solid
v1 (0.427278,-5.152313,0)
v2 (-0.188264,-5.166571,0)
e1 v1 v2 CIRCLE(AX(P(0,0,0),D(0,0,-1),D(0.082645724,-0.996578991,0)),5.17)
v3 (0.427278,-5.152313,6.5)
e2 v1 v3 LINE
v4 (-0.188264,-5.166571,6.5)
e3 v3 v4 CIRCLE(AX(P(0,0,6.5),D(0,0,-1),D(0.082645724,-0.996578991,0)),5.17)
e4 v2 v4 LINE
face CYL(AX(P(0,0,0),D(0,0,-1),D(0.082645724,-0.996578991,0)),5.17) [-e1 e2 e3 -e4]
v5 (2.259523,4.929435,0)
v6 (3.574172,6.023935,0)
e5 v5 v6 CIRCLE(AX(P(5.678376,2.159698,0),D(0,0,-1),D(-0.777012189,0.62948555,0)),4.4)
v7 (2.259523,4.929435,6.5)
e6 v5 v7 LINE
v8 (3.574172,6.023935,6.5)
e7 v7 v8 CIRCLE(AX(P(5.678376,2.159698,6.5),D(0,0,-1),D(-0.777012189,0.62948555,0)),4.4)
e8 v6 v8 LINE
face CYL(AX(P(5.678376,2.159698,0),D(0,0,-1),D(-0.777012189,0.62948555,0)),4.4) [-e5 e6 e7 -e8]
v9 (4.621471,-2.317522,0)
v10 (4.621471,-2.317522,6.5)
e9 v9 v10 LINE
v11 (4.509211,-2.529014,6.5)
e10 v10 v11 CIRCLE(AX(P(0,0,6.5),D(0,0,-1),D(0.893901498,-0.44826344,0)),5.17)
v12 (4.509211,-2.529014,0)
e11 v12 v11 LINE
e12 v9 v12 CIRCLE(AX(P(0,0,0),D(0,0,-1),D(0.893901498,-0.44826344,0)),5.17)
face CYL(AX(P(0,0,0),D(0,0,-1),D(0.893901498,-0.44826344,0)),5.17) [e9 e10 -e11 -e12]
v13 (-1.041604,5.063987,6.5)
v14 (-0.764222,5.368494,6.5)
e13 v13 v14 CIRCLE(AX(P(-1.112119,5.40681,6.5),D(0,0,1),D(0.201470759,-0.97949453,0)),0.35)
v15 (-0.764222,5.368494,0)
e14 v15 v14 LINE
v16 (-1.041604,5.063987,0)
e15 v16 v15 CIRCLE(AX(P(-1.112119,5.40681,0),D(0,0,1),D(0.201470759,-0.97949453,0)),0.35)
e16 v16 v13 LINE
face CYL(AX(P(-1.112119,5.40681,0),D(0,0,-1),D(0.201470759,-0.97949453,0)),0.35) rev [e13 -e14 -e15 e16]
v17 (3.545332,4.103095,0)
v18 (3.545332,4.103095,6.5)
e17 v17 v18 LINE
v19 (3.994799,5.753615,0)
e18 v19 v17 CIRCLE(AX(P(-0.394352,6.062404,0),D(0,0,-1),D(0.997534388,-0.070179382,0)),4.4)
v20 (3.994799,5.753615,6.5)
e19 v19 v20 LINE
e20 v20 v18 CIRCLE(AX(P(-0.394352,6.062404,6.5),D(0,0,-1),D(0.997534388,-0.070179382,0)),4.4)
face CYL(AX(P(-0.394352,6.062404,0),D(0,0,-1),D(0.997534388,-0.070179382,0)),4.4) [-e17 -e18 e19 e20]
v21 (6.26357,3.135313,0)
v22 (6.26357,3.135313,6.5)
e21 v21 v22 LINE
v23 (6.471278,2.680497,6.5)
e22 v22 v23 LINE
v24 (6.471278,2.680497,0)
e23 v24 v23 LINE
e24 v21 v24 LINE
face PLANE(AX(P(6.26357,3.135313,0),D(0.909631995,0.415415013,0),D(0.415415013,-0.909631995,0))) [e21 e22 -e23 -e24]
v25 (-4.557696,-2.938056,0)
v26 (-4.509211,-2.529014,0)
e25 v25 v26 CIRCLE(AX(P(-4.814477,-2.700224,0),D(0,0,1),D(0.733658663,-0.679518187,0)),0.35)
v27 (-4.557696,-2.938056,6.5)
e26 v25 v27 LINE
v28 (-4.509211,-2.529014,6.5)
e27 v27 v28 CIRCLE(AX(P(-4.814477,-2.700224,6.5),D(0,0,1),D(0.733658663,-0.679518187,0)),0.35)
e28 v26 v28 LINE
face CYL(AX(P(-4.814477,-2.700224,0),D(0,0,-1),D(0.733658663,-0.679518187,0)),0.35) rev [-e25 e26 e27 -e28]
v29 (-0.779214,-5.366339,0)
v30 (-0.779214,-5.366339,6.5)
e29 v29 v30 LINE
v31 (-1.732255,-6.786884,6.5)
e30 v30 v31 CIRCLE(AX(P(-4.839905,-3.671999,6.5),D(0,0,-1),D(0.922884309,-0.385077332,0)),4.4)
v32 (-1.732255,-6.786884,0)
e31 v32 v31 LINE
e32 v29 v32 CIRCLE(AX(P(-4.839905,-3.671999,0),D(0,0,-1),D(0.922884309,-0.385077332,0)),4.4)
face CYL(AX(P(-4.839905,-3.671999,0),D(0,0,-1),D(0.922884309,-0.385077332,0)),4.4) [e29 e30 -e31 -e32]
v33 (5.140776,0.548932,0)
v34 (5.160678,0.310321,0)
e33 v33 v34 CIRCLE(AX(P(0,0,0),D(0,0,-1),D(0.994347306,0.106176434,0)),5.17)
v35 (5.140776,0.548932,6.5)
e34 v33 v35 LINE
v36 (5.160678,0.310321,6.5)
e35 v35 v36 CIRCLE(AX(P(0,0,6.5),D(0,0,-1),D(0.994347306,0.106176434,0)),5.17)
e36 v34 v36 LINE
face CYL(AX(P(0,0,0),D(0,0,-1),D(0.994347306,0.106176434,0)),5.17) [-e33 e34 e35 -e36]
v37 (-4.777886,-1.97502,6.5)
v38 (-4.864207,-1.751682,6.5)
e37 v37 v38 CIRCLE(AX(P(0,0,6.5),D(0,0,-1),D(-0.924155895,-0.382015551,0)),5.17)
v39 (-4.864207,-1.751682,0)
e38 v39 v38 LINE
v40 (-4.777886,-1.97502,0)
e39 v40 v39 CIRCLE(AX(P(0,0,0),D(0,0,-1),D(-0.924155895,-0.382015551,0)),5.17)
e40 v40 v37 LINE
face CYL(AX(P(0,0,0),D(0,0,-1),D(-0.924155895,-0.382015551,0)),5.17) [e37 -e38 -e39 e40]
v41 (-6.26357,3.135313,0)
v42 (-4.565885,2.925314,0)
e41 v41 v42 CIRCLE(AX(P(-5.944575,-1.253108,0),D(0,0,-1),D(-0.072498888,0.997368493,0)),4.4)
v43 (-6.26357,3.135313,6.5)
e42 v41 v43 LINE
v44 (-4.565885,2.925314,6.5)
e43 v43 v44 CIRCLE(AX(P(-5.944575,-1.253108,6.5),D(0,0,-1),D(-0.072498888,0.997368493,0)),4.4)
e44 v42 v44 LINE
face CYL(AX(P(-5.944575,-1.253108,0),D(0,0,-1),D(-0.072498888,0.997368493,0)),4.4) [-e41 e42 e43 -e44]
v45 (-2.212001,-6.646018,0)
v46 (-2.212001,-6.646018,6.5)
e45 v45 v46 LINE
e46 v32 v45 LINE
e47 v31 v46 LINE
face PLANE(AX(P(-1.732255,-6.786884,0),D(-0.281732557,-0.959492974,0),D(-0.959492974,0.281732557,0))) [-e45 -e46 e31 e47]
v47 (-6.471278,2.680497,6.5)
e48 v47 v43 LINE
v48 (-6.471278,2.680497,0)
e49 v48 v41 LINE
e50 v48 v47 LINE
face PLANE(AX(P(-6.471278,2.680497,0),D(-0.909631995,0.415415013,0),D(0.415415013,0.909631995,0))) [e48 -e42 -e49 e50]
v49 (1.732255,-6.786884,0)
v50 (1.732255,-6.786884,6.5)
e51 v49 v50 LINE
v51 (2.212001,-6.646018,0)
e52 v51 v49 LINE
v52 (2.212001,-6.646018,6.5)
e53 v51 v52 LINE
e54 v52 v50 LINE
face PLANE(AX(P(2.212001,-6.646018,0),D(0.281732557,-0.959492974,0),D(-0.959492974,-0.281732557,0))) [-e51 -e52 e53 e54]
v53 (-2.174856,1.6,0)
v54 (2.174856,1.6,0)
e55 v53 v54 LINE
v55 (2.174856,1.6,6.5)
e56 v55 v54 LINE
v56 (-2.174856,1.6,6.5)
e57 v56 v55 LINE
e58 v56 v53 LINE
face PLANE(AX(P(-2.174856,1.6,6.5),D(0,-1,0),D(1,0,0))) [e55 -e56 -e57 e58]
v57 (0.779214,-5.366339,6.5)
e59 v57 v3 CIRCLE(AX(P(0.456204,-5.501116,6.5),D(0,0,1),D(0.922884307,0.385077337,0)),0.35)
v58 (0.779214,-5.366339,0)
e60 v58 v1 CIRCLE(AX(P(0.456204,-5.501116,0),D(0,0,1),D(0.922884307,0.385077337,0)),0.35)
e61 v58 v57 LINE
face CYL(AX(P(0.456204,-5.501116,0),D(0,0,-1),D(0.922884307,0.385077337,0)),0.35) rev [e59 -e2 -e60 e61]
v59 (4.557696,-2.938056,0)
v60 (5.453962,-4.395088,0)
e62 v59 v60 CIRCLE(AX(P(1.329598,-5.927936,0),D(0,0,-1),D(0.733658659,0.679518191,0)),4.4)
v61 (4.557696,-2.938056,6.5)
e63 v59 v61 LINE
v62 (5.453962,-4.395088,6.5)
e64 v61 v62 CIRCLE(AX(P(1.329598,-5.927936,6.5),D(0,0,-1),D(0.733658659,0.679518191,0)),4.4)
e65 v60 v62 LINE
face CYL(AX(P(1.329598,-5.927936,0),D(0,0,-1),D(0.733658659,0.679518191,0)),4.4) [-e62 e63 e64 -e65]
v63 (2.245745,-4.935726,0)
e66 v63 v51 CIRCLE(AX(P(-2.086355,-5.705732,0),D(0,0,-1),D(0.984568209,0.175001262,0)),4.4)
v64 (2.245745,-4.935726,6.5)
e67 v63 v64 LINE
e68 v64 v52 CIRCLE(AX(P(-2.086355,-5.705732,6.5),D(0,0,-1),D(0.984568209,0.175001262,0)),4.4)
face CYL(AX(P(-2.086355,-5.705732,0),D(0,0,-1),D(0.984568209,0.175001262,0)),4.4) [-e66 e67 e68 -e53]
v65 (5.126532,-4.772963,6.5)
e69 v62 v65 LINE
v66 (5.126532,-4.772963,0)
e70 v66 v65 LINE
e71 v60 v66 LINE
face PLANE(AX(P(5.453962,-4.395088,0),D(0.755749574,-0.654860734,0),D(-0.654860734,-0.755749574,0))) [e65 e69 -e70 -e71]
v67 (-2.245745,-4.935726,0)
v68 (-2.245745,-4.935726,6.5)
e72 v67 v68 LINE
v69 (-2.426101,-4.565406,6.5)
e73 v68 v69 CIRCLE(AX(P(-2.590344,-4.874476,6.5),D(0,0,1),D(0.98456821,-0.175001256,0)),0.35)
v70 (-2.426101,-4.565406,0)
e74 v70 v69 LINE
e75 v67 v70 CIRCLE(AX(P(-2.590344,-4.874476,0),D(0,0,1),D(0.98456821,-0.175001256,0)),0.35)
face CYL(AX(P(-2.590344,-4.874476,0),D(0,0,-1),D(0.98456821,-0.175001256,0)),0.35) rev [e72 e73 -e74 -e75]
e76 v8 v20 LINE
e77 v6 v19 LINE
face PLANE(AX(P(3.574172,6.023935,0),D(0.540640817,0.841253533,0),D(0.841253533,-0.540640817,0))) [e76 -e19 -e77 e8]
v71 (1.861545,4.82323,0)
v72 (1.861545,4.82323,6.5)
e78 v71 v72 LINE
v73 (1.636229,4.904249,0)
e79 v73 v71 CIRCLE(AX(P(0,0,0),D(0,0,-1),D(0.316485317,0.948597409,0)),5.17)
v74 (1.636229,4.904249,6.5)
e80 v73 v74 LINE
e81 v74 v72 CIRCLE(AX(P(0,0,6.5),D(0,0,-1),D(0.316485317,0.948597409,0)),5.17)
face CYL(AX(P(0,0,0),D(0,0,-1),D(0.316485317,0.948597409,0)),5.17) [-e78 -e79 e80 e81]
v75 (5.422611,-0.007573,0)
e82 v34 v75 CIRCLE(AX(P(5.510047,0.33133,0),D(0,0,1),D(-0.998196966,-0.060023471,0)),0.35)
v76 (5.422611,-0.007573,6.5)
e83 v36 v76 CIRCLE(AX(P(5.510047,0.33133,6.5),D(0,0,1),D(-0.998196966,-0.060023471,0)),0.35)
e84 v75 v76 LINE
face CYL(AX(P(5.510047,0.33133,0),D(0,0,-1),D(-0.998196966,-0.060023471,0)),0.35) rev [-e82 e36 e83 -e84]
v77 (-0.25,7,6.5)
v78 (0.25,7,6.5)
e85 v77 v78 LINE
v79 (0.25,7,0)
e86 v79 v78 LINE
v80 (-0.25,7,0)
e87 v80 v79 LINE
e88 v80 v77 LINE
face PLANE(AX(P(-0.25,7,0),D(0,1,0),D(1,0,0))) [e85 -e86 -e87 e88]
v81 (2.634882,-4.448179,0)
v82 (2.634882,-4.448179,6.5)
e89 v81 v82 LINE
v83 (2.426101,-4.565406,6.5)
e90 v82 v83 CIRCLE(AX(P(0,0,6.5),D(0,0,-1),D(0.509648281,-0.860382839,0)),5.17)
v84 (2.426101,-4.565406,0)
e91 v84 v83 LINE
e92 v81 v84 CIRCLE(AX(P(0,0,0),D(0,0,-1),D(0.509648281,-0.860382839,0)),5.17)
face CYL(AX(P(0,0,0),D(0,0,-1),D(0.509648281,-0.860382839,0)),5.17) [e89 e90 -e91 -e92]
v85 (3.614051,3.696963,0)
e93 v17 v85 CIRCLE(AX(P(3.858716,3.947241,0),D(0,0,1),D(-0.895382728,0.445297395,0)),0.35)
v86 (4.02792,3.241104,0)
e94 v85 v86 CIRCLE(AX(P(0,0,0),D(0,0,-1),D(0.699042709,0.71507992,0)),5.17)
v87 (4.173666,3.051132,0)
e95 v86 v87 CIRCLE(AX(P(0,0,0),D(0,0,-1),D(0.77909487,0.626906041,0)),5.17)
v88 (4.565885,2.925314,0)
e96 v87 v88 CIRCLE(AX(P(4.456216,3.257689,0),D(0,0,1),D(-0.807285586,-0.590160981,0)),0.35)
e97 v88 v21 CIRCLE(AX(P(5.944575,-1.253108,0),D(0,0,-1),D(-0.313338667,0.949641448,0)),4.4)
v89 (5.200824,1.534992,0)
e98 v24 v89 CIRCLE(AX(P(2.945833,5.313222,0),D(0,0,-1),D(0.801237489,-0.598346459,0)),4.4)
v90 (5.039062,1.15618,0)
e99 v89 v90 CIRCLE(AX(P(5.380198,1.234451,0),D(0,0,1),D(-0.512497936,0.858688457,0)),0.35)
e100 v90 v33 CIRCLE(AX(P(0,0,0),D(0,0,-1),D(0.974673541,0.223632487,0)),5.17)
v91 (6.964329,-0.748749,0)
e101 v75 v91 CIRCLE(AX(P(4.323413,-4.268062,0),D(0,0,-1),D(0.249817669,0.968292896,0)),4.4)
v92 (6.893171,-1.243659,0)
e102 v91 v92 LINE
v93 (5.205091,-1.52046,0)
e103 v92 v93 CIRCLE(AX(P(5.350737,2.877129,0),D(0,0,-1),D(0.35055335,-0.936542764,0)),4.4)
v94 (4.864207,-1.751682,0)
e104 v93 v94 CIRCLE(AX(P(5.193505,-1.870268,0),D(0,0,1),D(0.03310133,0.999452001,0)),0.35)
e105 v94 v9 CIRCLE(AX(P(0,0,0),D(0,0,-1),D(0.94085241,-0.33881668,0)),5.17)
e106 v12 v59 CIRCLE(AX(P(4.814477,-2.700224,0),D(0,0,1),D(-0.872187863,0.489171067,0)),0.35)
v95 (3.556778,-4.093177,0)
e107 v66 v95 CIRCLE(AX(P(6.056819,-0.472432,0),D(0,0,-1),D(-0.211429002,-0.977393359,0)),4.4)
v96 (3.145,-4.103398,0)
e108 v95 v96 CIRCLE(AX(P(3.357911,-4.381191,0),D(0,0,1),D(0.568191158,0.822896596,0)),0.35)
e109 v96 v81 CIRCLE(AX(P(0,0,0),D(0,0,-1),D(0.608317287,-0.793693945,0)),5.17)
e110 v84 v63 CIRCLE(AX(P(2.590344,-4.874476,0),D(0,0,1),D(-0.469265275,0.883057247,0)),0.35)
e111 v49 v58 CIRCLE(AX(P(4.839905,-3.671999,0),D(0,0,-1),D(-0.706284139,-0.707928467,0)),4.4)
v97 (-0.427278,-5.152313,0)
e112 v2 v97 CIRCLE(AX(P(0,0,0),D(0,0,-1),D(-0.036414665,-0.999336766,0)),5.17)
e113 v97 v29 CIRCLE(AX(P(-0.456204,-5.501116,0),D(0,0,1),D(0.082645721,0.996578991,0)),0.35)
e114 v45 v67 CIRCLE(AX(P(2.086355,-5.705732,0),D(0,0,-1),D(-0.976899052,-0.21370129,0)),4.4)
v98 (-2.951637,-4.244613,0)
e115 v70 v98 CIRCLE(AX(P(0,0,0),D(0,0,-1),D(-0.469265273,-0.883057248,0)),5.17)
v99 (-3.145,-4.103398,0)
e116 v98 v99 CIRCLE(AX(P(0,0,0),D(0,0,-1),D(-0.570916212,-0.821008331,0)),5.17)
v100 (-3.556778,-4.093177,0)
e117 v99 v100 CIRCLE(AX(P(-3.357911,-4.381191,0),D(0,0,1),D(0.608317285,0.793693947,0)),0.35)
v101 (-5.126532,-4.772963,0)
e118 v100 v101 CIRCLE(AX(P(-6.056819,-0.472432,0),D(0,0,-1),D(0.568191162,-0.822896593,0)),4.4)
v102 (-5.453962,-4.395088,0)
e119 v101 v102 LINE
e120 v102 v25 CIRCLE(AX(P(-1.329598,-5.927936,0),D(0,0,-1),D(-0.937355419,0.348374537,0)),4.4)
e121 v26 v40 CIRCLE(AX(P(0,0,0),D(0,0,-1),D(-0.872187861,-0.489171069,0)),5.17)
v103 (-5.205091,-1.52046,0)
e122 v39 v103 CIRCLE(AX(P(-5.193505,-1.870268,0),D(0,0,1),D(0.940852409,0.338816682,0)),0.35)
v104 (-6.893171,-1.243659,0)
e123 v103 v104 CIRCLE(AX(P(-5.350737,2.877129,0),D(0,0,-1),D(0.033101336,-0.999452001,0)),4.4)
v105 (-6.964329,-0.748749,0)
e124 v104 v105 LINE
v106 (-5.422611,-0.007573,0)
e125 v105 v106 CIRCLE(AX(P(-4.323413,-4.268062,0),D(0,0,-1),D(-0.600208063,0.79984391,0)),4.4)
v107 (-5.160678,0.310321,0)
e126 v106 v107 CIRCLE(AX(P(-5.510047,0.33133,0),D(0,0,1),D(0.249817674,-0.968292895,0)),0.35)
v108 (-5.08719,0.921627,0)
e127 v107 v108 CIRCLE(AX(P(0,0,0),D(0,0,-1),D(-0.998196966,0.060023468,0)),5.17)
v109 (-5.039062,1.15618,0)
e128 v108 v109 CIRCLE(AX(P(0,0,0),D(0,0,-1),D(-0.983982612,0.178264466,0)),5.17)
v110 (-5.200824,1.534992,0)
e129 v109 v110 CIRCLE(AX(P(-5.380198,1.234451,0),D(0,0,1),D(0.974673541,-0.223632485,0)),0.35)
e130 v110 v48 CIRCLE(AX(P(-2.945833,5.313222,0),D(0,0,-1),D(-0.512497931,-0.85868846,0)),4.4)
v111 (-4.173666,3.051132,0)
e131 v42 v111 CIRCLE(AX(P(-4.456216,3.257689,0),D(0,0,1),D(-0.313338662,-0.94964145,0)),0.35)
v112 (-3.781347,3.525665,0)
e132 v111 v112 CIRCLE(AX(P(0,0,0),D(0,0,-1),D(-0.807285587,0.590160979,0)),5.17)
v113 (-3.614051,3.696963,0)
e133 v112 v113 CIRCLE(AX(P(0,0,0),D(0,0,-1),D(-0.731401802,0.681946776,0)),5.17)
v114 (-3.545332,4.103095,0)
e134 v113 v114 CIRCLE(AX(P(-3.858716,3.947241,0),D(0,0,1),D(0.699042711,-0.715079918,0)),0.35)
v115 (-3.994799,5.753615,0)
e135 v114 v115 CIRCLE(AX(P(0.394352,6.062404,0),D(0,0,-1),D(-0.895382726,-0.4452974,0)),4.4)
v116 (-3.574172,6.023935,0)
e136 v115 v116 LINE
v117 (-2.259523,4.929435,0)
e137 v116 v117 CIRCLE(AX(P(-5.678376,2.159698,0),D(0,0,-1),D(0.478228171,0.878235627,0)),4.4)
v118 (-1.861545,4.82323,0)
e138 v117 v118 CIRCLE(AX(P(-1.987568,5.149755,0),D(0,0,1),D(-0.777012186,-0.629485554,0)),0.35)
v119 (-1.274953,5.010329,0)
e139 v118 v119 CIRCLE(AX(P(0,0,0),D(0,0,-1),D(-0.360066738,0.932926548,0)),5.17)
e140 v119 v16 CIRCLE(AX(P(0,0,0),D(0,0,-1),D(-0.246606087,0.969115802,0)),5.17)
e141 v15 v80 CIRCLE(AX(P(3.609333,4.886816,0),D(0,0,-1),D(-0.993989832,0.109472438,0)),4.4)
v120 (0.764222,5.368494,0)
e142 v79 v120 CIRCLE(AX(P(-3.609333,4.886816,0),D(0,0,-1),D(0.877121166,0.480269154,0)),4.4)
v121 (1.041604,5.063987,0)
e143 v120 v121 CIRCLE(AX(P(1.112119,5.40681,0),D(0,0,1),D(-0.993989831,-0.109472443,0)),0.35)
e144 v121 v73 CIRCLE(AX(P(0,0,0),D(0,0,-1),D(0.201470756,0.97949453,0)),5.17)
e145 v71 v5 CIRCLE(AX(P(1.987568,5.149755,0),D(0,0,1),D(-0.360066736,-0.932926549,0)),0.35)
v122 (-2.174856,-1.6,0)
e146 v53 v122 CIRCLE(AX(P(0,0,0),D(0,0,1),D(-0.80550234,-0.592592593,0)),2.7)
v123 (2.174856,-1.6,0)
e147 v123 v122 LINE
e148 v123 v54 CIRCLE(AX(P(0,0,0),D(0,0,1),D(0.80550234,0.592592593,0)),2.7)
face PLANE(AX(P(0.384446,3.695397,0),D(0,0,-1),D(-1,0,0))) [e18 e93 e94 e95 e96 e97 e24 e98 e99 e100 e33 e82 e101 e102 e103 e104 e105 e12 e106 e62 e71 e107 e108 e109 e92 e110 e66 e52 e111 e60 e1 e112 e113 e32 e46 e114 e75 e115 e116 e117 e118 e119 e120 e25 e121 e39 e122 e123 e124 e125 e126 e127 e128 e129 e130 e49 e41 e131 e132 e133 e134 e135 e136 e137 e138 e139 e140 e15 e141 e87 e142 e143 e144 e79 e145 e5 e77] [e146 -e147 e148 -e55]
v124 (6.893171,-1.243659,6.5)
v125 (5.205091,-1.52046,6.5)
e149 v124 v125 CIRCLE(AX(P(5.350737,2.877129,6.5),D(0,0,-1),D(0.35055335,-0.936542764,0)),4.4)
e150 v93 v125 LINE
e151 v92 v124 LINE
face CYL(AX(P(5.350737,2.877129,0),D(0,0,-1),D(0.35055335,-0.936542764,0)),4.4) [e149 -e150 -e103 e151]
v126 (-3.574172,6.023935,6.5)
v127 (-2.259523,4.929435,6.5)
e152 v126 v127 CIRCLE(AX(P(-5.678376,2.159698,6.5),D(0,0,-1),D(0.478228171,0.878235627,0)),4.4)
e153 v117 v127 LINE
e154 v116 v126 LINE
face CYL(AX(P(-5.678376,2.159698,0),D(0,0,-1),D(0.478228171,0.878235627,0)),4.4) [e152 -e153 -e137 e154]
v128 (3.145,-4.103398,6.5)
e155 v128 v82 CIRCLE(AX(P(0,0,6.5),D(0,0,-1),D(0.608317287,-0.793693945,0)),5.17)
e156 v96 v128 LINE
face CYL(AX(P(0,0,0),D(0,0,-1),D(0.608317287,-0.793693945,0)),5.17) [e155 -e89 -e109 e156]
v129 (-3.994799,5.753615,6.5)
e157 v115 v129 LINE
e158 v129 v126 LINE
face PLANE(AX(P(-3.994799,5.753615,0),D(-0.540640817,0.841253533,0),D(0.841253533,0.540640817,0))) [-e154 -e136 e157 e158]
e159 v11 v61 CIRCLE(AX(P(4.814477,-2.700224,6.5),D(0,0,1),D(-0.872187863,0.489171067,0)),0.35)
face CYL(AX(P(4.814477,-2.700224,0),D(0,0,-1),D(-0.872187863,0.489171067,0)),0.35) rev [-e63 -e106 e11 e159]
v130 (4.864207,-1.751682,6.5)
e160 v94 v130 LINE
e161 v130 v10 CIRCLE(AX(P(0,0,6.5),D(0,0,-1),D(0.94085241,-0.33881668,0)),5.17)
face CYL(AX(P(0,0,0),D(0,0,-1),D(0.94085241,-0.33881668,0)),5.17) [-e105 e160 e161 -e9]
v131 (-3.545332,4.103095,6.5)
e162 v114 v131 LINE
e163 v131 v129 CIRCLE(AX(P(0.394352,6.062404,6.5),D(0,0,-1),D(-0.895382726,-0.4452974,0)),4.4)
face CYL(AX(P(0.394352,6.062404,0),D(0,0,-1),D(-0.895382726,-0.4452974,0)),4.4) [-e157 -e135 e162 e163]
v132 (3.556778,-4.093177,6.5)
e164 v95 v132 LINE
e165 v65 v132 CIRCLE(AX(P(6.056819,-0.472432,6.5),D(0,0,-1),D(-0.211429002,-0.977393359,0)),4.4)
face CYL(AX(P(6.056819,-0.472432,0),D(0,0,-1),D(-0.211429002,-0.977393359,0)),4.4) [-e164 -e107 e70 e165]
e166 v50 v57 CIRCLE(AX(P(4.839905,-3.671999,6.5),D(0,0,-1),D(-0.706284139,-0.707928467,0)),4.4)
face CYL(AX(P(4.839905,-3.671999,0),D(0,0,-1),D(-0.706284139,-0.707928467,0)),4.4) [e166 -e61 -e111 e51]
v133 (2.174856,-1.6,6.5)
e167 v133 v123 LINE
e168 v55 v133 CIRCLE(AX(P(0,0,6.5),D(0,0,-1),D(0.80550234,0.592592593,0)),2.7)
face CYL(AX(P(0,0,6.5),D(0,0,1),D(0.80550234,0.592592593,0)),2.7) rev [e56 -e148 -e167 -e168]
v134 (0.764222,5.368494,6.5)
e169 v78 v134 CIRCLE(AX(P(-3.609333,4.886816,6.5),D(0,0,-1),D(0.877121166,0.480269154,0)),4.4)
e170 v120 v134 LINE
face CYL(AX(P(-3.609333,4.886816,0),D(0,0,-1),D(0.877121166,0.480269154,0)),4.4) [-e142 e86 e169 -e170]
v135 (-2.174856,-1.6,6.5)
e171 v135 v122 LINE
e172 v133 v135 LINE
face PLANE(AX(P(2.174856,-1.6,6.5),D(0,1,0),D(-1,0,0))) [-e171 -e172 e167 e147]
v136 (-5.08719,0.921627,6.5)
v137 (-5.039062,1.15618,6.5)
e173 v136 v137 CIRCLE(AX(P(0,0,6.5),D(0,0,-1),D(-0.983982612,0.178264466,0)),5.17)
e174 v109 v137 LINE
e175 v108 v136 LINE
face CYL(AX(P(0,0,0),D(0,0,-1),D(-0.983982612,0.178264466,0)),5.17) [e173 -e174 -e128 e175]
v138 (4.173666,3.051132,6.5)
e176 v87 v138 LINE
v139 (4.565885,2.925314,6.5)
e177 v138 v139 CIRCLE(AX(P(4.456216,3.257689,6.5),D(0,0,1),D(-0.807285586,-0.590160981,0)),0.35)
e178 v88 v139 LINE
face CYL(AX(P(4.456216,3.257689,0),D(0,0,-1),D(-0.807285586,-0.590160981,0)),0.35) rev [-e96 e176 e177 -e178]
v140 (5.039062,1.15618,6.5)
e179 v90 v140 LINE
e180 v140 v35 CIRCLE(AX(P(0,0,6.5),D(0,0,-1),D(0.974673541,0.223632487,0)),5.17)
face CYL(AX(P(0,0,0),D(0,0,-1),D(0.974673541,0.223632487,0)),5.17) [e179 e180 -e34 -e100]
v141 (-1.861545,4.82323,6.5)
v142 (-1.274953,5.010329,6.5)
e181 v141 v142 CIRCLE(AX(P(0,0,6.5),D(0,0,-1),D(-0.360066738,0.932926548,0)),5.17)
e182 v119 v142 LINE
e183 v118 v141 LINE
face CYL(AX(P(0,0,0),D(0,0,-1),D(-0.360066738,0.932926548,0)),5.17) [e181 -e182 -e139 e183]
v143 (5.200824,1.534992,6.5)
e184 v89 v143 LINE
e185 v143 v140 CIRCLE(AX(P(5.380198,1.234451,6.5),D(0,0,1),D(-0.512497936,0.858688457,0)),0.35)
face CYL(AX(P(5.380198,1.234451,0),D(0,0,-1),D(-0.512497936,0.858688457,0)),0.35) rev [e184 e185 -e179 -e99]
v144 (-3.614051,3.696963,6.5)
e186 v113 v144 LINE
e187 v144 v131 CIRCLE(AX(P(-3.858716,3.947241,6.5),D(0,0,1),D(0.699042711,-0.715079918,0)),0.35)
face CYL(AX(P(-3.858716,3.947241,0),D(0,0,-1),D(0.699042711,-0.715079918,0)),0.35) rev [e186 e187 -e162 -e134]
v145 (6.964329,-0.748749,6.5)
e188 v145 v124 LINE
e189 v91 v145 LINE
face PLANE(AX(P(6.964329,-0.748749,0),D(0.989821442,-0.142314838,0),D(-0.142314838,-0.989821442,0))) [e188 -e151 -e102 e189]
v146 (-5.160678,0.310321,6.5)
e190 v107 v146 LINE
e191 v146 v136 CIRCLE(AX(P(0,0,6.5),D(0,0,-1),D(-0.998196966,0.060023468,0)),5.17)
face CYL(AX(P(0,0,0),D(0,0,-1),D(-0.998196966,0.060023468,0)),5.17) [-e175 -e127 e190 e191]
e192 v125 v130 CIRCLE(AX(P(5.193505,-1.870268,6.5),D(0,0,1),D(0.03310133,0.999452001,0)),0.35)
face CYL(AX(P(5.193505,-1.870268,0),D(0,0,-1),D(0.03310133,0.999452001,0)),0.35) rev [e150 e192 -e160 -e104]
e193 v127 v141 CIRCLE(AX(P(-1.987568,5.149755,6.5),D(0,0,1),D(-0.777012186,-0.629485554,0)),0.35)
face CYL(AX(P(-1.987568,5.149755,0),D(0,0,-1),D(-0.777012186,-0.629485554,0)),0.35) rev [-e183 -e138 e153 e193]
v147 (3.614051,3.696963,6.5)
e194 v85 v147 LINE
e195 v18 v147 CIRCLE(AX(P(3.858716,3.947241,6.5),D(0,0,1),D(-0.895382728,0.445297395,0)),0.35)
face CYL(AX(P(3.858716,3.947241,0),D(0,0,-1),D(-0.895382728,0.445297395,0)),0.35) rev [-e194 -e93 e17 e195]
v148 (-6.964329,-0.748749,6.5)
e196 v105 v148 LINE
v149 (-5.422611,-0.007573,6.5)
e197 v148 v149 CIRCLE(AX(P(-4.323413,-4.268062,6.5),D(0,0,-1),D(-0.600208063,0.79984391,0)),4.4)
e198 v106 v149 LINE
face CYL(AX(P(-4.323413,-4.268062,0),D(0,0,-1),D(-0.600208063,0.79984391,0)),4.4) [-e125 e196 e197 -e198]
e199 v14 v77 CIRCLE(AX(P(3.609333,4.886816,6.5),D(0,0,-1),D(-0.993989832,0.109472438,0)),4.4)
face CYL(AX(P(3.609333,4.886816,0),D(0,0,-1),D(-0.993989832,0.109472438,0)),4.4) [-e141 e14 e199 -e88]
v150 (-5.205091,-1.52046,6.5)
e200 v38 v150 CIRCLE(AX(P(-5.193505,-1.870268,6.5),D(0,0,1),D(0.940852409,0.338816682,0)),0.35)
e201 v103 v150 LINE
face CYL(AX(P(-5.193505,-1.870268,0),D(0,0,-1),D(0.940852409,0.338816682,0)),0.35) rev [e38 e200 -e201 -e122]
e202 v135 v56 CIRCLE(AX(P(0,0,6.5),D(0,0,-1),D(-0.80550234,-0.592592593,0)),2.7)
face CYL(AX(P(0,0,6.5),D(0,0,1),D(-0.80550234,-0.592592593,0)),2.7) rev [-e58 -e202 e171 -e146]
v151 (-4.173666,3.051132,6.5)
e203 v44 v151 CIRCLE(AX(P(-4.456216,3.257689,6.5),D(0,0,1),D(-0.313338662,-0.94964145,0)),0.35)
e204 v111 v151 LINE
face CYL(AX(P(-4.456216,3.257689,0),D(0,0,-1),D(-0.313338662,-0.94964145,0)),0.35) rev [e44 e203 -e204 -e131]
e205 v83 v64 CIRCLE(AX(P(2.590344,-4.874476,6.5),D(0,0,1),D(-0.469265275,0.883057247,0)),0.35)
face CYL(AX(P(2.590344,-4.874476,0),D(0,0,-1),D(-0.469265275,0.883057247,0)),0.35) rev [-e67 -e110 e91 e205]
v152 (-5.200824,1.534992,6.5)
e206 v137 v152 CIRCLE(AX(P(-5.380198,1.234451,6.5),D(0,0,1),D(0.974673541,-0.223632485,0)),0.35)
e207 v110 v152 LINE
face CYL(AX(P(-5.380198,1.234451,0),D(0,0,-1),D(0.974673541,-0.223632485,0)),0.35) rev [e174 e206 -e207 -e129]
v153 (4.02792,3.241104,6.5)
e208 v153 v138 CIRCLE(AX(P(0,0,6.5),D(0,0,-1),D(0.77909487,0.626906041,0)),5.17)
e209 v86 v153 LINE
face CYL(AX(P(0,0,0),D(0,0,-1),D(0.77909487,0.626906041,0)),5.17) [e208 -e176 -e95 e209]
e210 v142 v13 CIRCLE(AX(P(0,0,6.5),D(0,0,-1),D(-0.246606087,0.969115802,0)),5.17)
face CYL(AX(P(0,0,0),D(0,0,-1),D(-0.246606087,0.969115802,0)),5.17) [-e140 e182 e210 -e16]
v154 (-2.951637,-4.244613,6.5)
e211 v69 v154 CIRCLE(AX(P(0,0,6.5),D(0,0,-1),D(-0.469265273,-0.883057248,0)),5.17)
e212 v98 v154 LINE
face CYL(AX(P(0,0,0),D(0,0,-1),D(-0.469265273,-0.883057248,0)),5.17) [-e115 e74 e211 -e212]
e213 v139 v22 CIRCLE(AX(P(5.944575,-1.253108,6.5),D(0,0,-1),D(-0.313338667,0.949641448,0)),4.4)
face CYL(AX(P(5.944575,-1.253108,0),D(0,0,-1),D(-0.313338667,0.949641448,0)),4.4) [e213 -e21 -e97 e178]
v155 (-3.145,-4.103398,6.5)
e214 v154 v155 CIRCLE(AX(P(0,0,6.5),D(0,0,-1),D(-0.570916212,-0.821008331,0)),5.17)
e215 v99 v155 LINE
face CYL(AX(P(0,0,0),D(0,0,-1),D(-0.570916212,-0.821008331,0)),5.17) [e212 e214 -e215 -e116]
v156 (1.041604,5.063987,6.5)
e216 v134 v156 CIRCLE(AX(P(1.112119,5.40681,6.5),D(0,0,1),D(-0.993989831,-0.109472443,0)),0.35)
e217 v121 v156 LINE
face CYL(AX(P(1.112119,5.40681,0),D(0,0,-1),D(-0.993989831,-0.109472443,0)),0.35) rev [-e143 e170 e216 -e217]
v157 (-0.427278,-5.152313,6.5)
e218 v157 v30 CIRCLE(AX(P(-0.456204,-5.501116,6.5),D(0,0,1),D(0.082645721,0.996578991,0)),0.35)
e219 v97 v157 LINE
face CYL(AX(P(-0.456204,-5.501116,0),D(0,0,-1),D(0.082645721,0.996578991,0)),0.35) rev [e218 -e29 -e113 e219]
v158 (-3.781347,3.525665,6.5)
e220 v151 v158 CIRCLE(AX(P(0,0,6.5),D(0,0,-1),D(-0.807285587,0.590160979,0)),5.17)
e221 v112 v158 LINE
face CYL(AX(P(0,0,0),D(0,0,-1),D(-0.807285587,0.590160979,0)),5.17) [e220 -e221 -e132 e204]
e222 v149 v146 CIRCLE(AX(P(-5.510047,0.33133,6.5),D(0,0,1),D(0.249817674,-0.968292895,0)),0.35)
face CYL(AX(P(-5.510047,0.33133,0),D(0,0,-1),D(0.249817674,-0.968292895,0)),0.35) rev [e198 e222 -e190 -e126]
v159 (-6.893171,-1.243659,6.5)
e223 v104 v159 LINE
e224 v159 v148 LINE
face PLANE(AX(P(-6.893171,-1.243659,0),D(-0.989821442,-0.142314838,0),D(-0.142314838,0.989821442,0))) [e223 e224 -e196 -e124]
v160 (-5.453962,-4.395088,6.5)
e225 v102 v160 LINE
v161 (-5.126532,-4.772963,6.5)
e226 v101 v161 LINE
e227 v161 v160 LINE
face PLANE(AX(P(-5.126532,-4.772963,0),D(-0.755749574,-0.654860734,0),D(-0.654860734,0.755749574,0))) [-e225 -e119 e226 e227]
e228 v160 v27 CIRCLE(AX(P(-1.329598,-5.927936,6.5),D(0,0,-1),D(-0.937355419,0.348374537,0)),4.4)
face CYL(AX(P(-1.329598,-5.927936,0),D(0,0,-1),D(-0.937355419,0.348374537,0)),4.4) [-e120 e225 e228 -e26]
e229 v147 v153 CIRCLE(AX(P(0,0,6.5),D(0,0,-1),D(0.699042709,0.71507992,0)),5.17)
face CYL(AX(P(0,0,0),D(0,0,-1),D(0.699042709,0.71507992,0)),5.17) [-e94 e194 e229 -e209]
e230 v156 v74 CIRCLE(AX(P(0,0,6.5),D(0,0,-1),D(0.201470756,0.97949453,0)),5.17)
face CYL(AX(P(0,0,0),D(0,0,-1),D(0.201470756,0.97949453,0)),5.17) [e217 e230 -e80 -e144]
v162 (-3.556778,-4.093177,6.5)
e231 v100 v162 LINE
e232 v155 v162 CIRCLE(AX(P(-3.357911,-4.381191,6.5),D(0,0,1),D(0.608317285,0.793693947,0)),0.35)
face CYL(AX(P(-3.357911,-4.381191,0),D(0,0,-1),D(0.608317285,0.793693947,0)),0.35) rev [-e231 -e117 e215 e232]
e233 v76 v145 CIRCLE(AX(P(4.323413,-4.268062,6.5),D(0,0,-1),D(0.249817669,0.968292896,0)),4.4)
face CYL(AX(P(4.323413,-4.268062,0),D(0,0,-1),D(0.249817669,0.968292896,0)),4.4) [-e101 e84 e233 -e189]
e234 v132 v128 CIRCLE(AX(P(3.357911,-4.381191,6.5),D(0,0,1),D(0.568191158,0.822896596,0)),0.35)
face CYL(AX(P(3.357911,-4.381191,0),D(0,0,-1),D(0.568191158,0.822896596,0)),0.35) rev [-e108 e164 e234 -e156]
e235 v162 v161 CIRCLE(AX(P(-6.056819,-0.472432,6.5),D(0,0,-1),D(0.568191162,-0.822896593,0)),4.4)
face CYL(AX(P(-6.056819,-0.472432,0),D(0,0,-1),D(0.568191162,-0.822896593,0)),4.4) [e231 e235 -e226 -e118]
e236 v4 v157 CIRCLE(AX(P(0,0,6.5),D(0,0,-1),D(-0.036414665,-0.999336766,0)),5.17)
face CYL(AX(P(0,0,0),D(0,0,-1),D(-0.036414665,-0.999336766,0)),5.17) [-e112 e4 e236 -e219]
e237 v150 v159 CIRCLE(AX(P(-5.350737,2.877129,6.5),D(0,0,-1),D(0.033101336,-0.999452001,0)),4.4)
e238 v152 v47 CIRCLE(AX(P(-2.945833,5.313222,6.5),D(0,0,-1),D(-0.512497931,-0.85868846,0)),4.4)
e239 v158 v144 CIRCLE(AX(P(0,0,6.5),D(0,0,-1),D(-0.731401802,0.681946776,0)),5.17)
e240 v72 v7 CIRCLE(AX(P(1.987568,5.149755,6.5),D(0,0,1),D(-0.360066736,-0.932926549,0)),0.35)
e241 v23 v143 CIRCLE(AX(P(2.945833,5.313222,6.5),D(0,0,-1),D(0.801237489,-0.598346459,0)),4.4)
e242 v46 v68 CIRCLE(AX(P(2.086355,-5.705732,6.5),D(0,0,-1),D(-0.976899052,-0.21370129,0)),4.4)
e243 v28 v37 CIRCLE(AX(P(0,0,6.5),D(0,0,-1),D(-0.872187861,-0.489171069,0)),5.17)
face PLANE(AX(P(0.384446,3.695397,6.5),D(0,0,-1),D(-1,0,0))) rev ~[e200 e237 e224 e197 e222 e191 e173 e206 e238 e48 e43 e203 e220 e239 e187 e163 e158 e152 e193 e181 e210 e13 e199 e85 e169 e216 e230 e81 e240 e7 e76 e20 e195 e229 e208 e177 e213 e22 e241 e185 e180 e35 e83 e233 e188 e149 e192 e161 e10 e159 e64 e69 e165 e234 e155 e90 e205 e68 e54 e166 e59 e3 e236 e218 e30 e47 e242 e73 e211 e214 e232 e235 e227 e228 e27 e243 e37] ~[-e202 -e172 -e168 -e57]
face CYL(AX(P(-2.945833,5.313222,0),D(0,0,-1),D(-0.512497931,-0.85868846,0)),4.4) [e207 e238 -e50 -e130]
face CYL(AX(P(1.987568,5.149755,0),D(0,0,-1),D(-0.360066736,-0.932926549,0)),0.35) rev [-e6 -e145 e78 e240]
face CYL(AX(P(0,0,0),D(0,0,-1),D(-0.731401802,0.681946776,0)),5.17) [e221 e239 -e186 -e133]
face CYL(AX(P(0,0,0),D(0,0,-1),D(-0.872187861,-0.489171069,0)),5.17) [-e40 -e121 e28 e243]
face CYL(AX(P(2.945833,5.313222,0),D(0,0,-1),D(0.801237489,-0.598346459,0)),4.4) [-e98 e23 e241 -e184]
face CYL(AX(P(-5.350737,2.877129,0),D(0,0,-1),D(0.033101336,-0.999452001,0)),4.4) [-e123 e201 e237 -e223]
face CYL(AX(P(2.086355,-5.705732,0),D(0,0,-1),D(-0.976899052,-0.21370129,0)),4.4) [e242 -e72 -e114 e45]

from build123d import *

# Parameters (mm, degrees)
BOSS_EXTRU_1_DEPTH           = 6.5
R_P_TITION_CIRCULAIRE1_COUNT = 11
ENL_V_MAT_EXTRU_1_REACH      = 13.822


with BuildPart() as part:
    # Esquisse1 → Boss.-Extru.1 (new body)
    with BuildSketch(Plane.XY):
        with BuildLine():
            Line((2.665741612, 4.429754131), (0, 0))
            Line((0, 0), (-1.27495348, 5.010328694))
            ThreePointArc((-1.27495348, 5.010328694), (-1.158589319, 5.038508786), (-1.041603805, 5.063986721))
            ThreePointArc((-1.041603805, 5.063986721), (-0.853375021, 5.171115564), (-0.764222128, 5.368494453))
            ThreePointArc((-0.764222128, 5.368494453), (-0.587161287, 6.209477662), (-0.25, 7))
            Line((-0.25, 7), (0.25, 7))
            ThreePointArc((0.25, 7), (0.587161287, 6.209477662), (0.764222128, 5.368494453))
            ThreePointArc((0.764222128, 5.368494453), (0.853375021, 5.171115564), (1.041603805, 5.063986721))
            ThreePointArc((1.041603805, 5.063986721), (1.880602365, 4.815831677), (2.665741612, 4.429754131))
        make_face()
    boss_extru_1 = extrude(amount=BOSS_EXTRU_1_DEPTH)

    # Répétition circulaire1: Boss.-Extru.1 ×11 about axis
    r_p_tition_circulaire1_axis = Axis((0, 0, 6.5), (0, 0, -1))
    for i in range(1, R_P_TITION_CIRCULAIRE1_COUNT):
        add(boss_extru_1.rotate(r_p_tition_circulaire1_axis, i * 360 / R_P_TITION_CIRCULAIRE1_COUNT))

    # Esquisse2 → Enlèv. mat.-Extru.1 (cut, up to next)
    with BuildSketch(Plane.XY.offset(6.5), mode=Mode.PRIVATE) as enl_v_mat_extru_1_sk1:
        with BuildLine():
            Line((-2.174856317, 1.6), (2.174856317, 1.6))
            ThreePointArc((2.174856317, 1.6), (2.7, 0), (2.174856317, -1.6))
            Line((2.174856317, -1.6), (-2.174856317, -1.6))
            ThreePointArc((-2.174856317, -1.6), (-2.7, 0), (-2.174856317, 1.6))
        make_face()
    enl_v_mat_extru_1_tool1 = extrude(enl_v_mat_extru_1_sk1.sketch, amount=-ENL_V_MAT_EXTRU_1_REACH, mode=Mode.PRIVATE) & part.part
    add(enl_v_mat_extru_1_tool1.solids().sort_by_distance((0, 0, 6.5))[0], mode=Mode.SUBTRACT)


solid = part.part
